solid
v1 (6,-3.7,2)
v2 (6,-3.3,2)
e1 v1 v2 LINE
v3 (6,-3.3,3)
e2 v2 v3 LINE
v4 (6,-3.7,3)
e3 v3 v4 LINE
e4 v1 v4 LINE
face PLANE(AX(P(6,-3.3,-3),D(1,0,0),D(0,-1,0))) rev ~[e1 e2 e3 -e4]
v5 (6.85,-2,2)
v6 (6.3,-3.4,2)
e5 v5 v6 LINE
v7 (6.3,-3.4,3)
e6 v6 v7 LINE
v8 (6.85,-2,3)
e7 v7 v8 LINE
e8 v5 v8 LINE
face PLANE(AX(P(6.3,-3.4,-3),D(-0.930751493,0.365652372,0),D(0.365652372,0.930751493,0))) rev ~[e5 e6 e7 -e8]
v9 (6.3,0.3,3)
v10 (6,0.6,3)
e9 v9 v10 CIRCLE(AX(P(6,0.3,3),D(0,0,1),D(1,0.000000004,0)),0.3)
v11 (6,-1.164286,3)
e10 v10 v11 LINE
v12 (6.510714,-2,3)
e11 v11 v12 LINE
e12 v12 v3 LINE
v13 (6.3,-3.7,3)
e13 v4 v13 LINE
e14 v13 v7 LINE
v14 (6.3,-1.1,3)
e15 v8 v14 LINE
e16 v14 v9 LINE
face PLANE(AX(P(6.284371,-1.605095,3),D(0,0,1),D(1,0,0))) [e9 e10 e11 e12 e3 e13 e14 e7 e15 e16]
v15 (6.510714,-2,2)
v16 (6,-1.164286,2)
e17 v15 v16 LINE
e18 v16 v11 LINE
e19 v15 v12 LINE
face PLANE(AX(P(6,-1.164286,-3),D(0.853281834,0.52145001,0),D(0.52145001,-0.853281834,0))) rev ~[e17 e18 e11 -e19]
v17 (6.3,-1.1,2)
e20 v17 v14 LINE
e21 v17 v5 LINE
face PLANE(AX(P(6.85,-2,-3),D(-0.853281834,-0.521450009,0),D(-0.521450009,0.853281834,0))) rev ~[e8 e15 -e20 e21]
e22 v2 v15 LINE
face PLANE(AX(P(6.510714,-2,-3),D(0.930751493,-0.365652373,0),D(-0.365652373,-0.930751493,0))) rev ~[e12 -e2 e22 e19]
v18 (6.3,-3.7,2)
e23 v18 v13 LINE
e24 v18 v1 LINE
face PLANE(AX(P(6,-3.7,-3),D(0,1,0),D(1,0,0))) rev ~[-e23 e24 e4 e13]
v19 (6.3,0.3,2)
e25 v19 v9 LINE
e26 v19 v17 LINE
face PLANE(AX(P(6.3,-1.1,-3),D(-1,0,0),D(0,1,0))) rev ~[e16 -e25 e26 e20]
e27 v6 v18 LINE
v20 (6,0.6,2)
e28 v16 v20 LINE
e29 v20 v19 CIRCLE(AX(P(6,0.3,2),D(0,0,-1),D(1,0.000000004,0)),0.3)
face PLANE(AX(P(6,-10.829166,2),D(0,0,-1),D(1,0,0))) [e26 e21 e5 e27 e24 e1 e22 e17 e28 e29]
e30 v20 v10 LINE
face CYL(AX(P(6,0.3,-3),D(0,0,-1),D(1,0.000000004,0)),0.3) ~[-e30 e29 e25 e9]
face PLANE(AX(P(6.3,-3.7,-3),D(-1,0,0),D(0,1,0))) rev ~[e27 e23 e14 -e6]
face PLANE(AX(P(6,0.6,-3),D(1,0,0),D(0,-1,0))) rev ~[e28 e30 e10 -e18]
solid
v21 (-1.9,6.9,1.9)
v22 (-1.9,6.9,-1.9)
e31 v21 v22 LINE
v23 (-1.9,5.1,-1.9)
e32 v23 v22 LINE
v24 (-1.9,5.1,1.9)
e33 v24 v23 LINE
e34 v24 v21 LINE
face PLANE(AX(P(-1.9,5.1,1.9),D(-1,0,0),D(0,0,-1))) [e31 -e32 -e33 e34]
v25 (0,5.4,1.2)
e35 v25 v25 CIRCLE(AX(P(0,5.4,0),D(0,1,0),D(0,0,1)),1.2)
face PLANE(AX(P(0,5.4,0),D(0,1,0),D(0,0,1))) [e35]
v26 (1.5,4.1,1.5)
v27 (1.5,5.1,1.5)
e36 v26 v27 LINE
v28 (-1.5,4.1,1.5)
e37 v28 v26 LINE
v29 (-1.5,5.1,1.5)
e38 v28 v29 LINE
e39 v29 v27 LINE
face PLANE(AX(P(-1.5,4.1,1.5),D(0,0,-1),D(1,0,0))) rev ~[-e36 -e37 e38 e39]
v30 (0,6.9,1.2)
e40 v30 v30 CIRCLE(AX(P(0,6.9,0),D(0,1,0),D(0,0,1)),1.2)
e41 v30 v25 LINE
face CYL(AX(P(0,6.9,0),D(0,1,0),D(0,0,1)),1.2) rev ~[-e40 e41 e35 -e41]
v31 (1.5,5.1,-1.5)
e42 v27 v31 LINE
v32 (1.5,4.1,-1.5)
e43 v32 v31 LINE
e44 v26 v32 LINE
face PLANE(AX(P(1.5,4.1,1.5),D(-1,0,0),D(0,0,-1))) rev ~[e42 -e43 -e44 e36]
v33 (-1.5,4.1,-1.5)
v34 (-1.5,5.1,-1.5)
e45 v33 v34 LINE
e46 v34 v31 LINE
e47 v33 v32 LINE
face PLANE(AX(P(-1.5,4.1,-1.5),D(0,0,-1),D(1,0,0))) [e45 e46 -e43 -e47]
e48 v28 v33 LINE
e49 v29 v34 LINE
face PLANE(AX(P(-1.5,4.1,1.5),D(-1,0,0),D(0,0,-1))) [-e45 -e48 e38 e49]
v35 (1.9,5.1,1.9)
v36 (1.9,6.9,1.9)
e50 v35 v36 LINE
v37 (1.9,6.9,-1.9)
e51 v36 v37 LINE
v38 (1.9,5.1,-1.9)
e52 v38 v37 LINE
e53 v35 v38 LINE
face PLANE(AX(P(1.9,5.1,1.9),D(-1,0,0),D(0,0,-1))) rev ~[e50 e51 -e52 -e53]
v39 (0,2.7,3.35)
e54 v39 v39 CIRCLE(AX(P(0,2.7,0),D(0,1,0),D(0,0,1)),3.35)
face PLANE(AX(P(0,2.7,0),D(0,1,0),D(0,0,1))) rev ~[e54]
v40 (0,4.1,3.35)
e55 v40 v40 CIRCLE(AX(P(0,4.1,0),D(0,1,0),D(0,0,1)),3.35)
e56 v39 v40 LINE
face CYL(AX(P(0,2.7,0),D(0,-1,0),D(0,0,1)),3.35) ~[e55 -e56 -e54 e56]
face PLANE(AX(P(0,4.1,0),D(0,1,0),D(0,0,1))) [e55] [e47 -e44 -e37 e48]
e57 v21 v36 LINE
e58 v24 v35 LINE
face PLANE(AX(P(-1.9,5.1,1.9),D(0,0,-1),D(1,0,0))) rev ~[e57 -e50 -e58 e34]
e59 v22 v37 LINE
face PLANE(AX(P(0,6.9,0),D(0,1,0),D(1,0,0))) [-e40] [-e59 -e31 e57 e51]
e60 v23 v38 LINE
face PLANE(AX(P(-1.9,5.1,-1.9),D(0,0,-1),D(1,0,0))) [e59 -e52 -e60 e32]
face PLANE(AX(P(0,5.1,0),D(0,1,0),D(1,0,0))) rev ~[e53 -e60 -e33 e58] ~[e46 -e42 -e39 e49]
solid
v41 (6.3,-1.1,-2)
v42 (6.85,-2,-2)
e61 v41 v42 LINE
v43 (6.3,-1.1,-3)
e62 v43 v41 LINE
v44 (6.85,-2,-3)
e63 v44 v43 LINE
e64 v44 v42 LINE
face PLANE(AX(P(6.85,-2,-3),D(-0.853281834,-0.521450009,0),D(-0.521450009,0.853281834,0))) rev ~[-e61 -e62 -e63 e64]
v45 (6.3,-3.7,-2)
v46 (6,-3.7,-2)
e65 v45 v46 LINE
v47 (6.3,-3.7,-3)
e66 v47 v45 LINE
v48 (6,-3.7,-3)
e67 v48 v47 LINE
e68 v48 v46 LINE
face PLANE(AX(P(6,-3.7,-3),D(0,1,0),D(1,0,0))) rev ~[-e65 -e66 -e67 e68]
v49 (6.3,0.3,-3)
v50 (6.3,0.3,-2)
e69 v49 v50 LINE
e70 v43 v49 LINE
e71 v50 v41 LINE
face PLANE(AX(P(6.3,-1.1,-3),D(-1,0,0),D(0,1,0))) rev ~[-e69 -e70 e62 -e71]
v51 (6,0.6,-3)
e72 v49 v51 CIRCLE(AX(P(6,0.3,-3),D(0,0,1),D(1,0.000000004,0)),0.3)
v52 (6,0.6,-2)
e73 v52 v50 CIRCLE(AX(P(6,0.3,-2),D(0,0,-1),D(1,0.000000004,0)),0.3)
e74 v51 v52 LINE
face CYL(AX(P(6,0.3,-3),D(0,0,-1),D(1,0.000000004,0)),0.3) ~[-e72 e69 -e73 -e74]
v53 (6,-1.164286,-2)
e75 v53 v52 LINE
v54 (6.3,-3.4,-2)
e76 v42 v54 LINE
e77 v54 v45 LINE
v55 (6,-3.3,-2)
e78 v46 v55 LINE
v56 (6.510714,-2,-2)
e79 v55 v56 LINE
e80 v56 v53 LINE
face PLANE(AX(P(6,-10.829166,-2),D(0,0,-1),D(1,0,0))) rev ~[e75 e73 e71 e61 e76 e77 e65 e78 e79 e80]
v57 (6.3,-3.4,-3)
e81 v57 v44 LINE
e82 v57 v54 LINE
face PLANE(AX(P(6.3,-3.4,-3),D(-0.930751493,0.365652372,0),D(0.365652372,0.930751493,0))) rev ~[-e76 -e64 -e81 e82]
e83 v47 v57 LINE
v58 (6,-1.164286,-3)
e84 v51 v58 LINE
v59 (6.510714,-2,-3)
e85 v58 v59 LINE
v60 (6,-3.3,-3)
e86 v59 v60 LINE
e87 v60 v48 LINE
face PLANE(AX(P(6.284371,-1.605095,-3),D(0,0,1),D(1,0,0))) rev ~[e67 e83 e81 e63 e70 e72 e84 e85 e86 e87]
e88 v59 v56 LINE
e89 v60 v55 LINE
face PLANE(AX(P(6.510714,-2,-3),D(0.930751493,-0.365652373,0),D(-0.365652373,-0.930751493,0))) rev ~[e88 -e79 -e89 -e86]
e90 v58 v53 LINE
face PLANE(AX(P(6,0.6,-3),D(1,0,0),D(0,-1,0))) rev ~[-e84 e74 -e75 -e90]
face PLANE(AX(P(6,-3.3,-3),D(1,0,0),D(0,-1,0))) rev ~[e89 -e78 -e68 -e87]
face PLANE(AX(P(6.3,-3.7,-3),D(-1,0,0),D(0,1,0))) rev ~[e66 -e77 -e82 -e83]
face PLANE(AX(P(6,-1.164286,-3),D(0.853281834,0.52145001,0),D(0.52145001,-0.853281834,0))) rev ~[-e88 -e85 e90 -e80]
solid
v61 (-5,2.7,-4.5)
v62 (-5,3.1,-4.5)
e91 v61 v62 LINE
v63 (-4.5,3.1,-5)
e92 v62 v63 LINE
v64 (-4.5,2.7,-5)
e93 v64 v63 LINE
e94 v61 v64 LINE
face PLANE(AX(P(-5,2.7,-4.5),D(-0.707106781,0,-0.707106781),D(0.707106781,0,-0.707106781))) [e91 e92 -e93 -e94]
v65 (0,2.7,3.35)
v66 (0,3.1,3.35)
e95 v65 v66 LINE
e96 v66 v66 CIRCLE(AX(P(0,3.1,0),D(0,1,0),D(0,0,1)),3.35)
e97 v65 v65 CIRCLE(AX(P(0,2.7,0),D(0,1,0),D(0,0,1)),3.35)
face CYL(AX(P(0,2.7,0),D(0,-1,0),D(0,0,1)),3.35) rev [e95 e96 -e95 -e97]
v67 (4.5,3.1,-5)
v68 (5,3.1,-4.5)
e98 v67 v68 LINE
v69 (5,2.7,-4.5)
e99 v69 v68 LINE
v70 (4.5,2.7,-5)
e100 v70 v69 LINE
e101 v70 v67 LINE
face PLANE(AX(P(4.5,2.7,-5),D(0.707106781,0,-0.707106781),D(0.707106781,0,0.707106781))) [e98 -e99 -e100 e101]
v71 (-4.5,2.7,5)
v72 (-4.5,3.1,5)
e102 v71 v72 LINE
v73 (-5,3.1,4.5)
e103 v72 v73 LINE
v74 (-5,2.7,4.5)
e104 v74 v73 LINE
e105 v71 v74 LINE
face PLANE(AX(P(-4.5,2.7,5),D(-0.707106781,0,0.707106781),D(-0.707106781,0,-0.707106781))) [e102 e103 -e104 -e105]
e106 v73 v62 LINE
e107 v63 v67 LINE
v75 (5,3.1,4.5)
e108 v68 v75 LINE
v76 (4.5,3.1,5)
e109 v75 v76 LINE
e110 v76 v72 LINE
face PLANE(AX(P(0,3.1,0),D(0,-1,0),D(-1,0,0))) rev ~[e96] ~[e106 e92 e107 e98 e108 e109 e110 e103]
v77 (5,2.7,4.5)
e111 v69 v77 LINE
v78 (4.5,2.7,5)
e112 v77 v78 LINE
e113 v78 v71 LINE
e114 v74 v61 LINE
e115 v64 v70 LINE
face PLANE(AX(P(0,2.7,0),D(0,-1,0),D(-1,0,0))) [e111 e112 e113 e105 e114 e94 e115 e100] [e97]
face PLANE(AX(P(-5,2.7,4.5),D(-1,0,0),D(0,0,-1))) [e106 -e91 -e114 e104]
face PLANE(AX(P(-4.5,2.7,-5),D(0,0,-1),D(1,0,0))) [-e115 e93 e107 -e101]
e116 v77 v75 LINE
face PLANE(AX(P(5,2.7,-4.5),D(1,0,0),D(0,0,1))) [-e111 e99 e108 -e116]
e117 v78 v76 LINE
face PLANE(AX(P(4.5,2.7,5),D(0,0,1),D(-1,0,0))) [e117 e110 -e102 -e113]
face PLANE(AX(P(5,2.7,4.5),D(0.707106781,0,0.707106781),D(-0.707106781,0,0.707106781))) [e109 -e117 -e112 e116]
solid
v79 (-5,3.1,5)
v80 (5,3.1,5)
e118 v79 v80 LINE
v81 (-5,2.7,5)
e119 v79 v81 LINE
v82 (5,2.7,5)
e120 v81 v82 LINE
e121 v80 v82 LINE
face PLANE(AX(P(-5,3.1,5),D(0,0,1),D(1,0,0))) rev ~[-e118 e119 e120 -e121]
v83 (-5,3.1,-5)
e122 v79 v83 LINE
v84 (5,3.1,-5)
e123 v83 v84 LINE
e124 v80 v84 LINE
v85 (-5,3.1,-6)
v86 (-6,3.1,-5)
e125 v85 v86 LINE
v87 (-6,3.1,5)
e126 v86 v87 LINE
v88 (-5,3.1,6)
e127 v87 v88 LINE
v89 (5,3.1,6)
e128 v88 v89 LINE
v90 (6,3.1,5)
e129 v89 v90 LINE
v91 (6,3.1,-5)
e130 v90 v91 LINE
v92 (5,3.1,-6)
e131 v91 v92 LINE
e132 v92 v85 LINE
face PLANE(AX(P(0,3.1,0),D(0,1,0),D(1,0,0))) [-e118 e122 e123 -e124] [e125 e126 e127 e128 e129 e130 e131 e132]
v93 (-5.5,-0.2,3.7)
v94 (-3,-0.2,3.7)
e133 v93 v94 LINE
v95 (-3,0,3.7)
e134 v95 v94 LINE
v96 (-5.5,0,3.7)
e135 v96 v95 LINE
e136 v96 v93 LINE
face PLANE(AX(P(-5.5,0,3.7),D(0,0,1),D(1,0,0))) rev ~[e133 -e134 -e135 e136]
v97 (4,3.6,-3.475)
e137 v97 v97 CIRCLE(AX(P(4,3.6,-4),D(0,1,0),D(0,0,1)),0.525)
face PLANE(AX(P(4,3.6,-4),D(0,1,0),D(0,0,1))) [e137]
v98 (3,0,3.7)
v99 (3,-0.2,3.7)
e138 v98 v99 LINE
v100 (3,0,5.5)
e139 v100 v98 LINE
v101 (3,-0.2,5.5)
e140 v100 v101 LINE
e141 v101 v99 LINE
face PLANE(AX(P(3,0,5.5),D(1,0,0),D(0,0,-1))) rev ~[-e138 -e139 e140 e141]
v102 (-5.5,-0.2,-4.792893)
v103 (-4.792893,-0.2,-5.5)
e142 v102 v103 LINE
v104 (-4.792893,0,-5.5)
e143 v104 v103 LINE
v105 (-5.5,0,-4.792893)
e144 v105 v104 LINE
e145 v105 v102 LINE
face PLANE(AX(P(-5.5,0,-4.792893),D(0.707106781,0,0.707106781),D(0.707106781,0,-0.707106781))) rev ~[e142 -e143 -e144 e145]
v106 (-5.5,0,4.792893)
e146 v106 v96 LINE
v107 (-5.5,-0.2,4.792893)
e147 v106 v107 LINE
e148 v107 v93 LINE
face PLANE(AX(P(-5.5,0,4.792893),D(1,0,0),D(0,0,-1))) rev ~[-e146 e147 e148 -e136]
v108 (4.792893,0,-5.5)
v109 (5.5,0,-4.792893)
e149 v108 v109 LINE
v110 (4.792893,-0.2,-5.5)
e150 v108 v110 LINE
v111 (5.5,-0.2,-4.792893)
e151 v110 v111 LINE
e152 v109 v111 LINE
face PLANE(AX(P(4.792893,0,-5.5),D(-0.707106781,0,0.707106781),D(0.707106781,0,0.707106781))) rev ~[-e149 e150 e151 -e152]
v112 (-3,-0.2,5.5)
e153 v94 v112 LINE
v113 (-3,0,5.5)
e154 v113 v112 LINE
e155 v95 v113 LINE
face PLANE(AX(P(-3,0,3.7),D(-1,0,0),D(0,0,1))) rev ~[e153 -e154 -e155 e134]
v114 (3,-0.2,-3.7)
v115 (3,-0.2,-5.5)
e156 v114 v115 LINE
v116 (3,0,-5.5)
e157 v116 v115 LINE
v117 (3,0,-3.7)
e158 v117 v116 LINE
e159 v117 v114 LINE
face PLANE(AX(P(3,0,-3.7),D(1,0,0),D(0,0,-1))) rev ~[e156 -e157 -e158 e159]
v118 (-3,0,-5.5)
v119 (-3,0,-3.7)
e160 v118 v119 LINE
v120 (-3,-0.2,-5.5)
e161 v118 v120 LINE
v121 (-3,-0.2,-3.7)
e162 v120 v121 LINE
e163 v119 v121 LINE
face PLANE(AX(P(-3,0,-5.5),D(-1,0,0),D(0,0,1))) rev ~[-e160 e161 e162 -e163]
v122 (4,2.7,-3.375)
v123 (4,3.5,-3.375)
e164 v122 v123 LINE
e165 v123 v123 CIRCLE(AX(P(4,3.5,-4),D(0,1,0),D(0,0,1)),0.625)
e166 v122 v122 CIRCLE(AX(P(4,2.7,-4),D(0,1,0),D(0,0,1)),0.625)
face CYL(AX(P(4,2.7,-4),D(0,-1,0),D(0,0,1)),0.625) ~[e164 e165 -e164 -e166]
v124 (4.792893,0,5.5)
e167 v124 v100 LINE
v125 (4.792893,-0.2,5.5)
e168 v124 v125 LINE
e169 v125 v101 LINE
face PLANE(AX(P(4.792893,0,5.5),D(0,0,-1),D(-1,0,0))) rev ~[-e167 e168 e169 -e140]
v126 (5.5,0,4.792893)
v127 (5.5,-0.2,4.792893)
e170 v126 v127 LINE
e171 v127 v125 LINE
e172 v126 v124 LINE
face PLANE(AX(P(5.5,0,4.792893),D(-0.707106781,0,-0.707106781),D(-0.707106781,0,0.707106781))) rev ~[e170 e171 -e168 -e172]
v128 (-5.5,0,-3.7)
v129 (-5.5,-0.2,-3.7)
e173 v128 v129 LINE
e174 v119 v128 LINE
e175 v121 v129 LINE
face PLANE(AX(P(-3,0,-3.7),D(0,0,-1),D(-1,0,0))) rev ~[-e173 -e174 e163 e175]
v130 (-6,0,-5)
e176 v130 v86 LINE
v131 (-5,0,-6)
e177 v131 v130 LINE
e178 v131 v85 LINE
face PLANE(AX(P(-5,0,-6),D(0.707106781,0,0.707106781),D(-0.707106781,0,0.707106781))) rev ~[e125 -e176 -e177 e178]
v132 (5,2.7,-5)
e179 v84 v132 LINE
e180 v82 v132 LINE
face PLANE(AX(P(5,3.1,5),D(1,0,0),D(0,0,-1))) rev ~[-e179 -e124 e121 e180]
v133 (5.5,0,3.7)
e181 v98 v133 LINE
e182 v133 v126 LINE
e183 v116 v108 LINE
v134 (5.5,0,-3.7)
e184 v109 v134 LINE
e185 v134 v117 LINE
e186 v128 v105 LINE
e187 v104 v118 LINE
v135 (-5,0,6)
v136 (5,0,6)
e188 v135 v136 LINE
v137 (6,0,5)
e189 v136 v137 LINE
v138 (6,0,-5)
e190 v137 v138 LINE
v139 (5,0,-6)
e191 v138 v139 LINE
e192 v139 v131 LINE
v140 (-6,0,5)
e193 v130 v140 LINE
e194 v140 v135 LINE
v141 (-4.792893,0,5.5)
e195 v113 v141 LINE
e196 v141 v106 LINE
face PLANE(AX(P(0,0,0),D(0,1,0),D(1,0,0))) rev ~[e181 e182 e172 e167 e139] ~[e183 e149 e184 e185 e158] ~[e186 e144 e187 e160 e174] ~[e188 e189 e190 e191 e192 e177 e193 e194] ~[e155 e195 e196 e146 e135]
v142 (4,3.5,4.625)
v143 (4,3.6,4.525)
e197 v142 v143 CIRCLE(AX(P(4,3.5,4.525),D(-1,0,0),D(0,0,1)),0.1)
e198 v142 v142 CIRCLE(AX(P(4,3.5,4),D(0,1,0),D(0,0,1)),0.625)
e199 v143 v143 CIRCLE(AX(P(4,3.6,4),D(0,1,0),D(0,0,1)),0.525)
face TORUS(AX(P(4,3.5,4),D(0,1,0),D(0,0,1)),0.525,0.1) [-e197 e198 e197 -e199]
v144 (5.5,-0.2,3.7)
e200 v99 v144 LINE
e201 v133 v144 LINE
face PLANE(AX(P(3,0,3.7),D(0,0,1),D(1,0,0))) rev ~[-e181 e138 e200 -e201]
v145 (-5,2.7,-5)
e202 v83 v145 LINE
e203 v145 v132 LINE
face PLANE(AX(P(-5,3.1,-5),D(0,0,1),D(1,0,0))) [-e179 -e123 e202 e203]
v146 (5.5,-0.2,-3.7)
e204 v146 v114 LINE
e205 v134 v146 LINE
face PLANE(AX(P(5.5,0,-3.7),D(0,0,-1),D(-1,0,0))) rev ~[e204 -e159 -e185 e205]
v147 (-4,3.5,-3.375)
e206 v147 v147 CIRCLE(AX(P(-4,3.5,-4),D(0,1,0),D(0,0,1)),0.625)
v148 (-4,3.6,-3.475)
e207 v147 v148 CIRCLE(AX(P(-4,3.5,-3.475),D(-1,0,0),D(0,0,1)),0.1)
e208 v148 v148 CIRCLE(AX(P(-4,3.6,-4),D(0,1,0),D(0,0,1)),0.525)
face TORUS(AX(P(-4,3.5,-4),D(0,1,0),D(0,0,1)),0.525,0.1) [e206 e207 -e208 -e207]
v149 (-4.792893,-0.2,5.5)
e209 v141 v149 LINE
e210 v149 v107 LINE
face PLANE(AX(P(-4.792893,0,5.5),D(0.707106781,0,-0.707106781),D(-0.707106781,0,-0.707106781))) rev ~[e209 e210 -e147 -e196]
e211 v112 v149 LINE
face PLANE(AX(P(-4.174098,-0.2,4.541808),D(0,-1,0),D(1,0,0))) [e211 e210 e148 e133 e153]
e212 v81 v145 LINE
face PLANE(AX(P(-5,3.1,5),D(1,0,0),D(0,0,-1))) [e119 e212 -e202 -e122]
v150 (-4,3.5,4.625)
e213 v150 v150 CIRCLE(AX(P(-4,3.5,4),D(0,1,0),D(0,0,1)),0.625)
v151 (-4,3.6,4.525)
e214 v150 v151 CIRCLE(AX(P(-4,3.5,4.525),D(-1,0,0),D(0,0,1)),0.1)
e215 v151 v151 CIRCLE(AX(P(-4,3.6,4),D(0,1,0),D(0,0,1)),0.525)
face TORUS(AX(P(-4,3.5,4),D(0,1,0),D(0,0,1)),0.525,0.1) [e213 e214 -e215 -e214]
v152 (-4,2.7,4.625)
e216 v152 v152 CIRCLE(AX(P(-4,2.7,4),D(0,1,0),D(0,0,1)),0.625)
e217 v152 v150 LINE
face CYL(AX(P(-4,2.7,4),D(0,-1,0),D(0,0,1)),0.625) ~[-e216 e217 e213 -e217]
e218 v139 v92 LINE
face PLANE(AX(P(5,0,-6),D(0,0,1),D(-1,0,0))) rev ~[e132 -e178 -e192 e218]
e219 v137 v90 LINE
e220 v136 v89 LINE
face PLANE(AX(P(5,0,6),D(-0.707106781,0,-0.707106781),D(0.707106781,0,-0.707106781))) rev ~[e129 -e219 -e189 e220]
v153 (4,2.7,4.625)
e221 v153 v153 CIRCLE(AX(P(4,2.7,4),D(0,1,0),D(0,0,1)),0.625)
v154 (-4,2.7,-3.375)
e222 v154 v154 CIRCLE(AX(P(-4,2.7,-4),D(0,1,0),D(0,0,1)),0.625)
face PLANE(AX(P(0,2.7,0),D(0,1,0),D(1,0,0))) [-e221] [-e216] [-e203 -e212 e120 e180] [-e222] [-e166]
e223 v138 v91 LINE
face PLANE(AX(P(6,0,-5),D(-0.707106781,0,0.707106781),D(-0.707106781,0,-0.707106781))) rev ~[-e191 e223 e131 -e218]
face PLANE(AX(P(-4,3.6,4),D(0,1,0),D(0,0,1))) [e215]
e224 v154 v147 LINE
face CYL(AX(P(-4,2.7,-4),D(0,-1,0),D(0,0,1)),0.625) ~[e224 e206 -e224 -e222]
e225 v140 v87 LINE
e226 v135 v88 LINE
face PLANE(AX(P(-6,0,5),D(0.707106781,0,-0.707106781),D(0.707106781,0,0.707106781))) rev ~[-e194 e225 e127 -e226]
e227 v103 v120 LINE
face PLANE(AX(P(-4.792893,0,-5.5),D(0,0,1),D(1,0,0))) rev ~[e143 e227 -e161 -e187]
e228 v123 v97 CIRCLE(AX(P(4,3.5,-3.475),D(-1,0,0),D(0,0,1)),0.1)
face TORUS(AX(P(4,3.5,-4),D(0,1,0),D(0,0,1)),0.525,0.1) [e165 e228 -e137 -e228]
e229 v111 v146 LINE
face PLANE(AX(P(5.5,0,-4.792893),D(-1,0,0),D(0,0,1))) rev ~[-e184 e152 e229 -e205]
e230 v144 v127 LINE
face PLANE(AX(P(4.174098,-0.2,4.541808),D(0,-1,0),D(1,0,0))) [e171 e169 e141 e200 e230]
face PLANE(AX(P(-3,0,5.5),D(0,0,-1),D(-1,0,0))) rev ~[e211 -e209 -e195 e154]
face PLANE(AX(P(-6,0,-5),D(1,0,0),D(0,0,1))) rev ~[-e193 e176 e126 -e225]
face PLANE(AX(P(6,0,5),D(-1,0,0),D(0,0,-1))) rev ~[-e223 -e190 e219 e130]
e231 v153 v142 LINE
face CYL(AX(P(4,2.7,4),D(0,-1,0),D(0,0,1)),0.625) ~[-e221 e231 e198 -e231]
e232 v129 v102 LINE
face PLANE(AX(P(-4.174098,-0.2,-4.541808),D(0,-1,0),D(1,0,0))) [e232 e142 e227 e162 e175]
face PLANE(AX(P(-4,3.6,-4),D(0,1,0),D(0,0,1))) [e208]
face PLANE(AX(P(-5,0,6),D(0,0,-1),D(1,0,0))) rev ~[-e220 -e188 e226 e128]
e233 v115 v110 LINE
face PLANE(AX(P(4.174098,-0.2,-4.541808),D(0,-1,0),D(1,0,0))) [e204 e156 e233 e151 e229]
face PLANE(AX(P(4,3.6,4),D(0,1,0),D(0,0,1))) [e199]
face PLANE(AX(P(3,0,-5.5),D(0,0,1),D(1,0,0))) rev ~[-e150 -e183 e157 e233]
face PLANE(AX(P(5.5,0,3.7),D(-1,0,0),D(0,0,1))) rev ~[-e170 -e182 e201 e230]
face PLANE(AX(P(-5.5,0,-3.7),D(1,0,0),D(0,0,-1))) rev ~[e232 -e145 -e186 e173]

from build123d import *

# Parameters (mm, degrees)
BOSS_EXTRUDE1_DEPTH      = 3.1
SKETCH2_W                = 10
SKETCH2_H                = 10
CUT_EXTRUDE1_DEPTH       = 0.4
SKETCH3_R                = 0.625
BOSS_EXTRUDE2_DEPTH      = 0.9
FILLET1_R                = 0.1
SKETCH4_R                = 3.35
BOSS_EXTRUDE3_DEPTH      = 0.4
BOSS_EXTRUDE4_DEPTH      = 3
BOSS_EXTRUDE4_DEPTH_BACK = 3
CUT_EXTRUDE2_DEPTH       = 10.829165784
CUT_EXTRUDE2_DEPTH_BACK  = 10.829165784
SKETCH6_W                = 0.85
SKETCH6_H                = 4
SKETCH7_R                = 3.35
BOSS_EXTRUDE5_DEPTH      = 1.4
SKETCH8_W                = 3
SKETCH8_H                = 3
BOSS_EXTRUDE6_DEPTH      = 1
SKETCH9_W                = 3.8
SKETCH9_H                = 3.8
BOSS_EXTRUDE7_DEPTH      = 1.8
SKETCH11_R               = 1.2
CUT_EXTRUDE3_DEPTH       = 1.5
BOSS_EXTRUDE8_DEPTH      = 0.2


with BuildPart() as part:
    # Sketch1 → Boss-Extrude1 (new body)
    with BuildSketch(Plane(origin=(0, 0, 0), x_dir=(1, 0, 0), z_dir=(0, 1, 0))):
        Polygon((-5, 6), (-6, 5), (-6, -5), (-5, -6), (5, -6), (6, -5), (6, 5), (5, 6), align=None)
    extrude(amount=BOSS_EXTRUDE1_DEPTH)

    # Sketch2 → Cut-Extrude1 (cut)
    with BuildSketch(Plane(origin=(0, 3.1, 0), x_dir=(1, 0, 0), z_dir=(0, 1, 0))):
        Rectangle(SKETCH2_W, SKETCH2_H)
    extrude(amount=-CUT_EXTRUDE1_DEPTH, mode=Mode.SUBTRACT)

    # Sketch3 → Boss-Extrude2 (add)
    with BuildSketch(Plane(origin=(0, 2.7, 0), x_dir=(1, 0, 0), z_dir=(0, 1, 0))):
        with Locations(Location((-4, 4, 0), (0, 0, 270))):
            Circle(SKETCH3_R)
        with Locations(Location((4, 4, 0), (0, 0, 270))):
            Circle(SKETCH3_R)
        with Locations(Location((-4, -4, 0), (0, 0, 270))):
            Circle(SKETCH3_R)
        with Locations(Location((4, -4, 0), (0, 0, 270))):
            Circle(SKETCH3_R)
    extrude(amount=BOSS_EXTRUDE2_DEPTH)

    # Fillet1
    fillet1_edges = [part.edges().sort_by_distance(p)[0] for p in [
        (-4, 3.6, -4.625),
        (4, 3.6, -4.625),
        (-4, 3.6, 3.375),
        (4, 3.6, 3.375),
    ]]
    fillet(fillet1_edges, radius=FILLET1_R)

    # Sketch12 → Boss-Extrude8 (add)
    with BuildSketch(Plane.XZ):
        Polygon((3, 5.5), (3, 3.7), (5.5, 3.7), (5.5, 4.792893219), (4.792893219, 5.5), align=None)
        Polygon((4.792893219, -5.5), (5.5, -4.792893219), (5.5, -3.7), (3, -3.7), (3, -5.5), align=None)
        Polygon((-3, -5.5), (-3, -3.7), (-5.5, -3.7), (-5.5, -4.792893219), (-4.792893219, -5.5), align=None)
        Polygon((-4.792893219, 5.5), (-5.5, 4.792893219), (-5.5, 3.7), (-3, 3.7), (-3, 5.5), align=None)
    extrude(amount=BOSS_EXTRUDE8_DEPTH)


with BuildPart() as body_2:
    # Sketch4 → Boss-Extrude3 (new body)
    with BuildSketch(Plane(origin=(0, 2.7, 0), x_dir=(1, 0, 0), z_dir=(0, 1, 0))):
        Polygon((4.5, -5), (-4.5, -5), (-5, -4.5), (-5, 4.5), (-4.5, 5), (4.5, 5), (5, 4.5), (5, -4.5), align=None)
        with Locations(Location((0, 0, 0), (0, 0, 270))):
            Circle(SKETCH4_R, mode=Mode.SUBTRACT)
    extrude(amount=BOSS_EXTRUDE3_DEPTH)


with BuildPart() as body_3:
    # Sketch5 → Boss-Extrude4 (new, two sides: drawn at the far end of the back side and taken through both)
    with BuildSketch(Plane.XY.offset(-BOSS_EXTRUDE4_DEPTH_BACK)):
        with BuildLine():
            Line((6, 0.6), (6, -1.164285714))
            Line((6, -1.164285714), (6.510714286, -2))
            Line((6.510714286, -2), (6, -3.3))
            Line((6, -3.3), (6, -3.7))
            Line((6, -3.7), (6.3, -3.7))
            Line((6.3, -3.7), (6.3, -3.4))
            Line((6.3, -3.4), (6.85, -2))
            Line((6.85, -2), (6.3, -1.1))
            Line((6.3, -1.1), (6.3, 0.3))
            ThreePointArc((6.3, 0.3), (6.212132034, 0.512132034), (6, 0.6))
        make_face()
    extrude(amount=BOSS_EXTRUDE4_DEPTH + BOSS_EXTRUDE4_DEPTH_BACK)

    # Sketch6 → Cut-Extrude2 (cut, two sides: drawn at the far end of the back side and taken through both)
    with BuildSketch(Plane(origin=(0, 0, 0), x_dir=(1, 0, 0), z_dir=(0, 1, 0)).offset(-CUT_EXTRUDE2_DEPTH_BACK)):
        with Locations((6.425, 0)):
            Rectangle(SKETCH6_W, SKETCH6_H)
    extrude(amount=CUT_EXTRUDE2_DEPTH + CUT_EXTRUDE2_DEPTH_BACK, mode=Mode.SUBTRACT)


with BuildPart() as cut_extrude2_piece_1:
    # of the separate pieces the step leaves, piece 1, a body of its own (cut_extrude2_pieces)
    add(body_3.part.solids().sort_by_distance((6, 0.6, -2))[0])


with BuildPart() as cut_extrude2_piece_2:
    # of the separate pieces the step leaves, piece 2, a body of its own (cut_extrude2_pieces)
    add(body_3.part.solids().sort_by_distance((6, 0.6, 3))[0])


with BuildPart() as body_5:
    # Sketch7 → Boss-Extrude5 (new body)
    with BuildSketch(Plane(origin=(0, 2.7, 0), x_dir=(1, 0, 0), z_dir=(0, 1, 0))):
        with Locations(Location((0, 0, 0), (0, 0, 270))):
            Circle(SKETCH7_R)
    extrude(amount=BOSS_EXTRUDE5_DEPTH)

    # Sketch8 → Boss-Extrude6 (add)
    with BuildSketch(Plane(origin=(0, 4.1, 0), x_dir=(1, 0, 0), z_dir=(0, 1, 0))):
        Rectangle(SKETCH8_W, SKETCH8_H)
    extrude(amount=BOSS_EXTRUDE6_DEPTH)

    # Sketch9 → Boss-Extrude7 (add)
    with BuildSketch(Plane(origin=(0, 5.1, 0), x_dir=(1, 0, 0), z_dir=(0, 1, 0))):
        Rectangle(SKETCH9_W, SKETCH9_H)
    extrude(amount=BOSS_EXTRUDE7_DEPTH)

    # Sketch11 → Cut-Extrude3 (cut)
    with BuildSketch(Plane(origin=(0, 6.9, 0), x_dir=(1, 0, 0), z_dir=(0, 1, 0))):
        with Locations(Location((0, 0, 0), (0, 0, 270))):
            Circle(SKETCH11_R)
    extrude(amount=-CUT_EXTRUDE3_DEPTH, mode=Mode.SUBTRACT)


solid = Compound([part.part, body_2.part, cut_extrude2_piece_1.part, cut_extrude2_piece_2.part, body_5.part])
